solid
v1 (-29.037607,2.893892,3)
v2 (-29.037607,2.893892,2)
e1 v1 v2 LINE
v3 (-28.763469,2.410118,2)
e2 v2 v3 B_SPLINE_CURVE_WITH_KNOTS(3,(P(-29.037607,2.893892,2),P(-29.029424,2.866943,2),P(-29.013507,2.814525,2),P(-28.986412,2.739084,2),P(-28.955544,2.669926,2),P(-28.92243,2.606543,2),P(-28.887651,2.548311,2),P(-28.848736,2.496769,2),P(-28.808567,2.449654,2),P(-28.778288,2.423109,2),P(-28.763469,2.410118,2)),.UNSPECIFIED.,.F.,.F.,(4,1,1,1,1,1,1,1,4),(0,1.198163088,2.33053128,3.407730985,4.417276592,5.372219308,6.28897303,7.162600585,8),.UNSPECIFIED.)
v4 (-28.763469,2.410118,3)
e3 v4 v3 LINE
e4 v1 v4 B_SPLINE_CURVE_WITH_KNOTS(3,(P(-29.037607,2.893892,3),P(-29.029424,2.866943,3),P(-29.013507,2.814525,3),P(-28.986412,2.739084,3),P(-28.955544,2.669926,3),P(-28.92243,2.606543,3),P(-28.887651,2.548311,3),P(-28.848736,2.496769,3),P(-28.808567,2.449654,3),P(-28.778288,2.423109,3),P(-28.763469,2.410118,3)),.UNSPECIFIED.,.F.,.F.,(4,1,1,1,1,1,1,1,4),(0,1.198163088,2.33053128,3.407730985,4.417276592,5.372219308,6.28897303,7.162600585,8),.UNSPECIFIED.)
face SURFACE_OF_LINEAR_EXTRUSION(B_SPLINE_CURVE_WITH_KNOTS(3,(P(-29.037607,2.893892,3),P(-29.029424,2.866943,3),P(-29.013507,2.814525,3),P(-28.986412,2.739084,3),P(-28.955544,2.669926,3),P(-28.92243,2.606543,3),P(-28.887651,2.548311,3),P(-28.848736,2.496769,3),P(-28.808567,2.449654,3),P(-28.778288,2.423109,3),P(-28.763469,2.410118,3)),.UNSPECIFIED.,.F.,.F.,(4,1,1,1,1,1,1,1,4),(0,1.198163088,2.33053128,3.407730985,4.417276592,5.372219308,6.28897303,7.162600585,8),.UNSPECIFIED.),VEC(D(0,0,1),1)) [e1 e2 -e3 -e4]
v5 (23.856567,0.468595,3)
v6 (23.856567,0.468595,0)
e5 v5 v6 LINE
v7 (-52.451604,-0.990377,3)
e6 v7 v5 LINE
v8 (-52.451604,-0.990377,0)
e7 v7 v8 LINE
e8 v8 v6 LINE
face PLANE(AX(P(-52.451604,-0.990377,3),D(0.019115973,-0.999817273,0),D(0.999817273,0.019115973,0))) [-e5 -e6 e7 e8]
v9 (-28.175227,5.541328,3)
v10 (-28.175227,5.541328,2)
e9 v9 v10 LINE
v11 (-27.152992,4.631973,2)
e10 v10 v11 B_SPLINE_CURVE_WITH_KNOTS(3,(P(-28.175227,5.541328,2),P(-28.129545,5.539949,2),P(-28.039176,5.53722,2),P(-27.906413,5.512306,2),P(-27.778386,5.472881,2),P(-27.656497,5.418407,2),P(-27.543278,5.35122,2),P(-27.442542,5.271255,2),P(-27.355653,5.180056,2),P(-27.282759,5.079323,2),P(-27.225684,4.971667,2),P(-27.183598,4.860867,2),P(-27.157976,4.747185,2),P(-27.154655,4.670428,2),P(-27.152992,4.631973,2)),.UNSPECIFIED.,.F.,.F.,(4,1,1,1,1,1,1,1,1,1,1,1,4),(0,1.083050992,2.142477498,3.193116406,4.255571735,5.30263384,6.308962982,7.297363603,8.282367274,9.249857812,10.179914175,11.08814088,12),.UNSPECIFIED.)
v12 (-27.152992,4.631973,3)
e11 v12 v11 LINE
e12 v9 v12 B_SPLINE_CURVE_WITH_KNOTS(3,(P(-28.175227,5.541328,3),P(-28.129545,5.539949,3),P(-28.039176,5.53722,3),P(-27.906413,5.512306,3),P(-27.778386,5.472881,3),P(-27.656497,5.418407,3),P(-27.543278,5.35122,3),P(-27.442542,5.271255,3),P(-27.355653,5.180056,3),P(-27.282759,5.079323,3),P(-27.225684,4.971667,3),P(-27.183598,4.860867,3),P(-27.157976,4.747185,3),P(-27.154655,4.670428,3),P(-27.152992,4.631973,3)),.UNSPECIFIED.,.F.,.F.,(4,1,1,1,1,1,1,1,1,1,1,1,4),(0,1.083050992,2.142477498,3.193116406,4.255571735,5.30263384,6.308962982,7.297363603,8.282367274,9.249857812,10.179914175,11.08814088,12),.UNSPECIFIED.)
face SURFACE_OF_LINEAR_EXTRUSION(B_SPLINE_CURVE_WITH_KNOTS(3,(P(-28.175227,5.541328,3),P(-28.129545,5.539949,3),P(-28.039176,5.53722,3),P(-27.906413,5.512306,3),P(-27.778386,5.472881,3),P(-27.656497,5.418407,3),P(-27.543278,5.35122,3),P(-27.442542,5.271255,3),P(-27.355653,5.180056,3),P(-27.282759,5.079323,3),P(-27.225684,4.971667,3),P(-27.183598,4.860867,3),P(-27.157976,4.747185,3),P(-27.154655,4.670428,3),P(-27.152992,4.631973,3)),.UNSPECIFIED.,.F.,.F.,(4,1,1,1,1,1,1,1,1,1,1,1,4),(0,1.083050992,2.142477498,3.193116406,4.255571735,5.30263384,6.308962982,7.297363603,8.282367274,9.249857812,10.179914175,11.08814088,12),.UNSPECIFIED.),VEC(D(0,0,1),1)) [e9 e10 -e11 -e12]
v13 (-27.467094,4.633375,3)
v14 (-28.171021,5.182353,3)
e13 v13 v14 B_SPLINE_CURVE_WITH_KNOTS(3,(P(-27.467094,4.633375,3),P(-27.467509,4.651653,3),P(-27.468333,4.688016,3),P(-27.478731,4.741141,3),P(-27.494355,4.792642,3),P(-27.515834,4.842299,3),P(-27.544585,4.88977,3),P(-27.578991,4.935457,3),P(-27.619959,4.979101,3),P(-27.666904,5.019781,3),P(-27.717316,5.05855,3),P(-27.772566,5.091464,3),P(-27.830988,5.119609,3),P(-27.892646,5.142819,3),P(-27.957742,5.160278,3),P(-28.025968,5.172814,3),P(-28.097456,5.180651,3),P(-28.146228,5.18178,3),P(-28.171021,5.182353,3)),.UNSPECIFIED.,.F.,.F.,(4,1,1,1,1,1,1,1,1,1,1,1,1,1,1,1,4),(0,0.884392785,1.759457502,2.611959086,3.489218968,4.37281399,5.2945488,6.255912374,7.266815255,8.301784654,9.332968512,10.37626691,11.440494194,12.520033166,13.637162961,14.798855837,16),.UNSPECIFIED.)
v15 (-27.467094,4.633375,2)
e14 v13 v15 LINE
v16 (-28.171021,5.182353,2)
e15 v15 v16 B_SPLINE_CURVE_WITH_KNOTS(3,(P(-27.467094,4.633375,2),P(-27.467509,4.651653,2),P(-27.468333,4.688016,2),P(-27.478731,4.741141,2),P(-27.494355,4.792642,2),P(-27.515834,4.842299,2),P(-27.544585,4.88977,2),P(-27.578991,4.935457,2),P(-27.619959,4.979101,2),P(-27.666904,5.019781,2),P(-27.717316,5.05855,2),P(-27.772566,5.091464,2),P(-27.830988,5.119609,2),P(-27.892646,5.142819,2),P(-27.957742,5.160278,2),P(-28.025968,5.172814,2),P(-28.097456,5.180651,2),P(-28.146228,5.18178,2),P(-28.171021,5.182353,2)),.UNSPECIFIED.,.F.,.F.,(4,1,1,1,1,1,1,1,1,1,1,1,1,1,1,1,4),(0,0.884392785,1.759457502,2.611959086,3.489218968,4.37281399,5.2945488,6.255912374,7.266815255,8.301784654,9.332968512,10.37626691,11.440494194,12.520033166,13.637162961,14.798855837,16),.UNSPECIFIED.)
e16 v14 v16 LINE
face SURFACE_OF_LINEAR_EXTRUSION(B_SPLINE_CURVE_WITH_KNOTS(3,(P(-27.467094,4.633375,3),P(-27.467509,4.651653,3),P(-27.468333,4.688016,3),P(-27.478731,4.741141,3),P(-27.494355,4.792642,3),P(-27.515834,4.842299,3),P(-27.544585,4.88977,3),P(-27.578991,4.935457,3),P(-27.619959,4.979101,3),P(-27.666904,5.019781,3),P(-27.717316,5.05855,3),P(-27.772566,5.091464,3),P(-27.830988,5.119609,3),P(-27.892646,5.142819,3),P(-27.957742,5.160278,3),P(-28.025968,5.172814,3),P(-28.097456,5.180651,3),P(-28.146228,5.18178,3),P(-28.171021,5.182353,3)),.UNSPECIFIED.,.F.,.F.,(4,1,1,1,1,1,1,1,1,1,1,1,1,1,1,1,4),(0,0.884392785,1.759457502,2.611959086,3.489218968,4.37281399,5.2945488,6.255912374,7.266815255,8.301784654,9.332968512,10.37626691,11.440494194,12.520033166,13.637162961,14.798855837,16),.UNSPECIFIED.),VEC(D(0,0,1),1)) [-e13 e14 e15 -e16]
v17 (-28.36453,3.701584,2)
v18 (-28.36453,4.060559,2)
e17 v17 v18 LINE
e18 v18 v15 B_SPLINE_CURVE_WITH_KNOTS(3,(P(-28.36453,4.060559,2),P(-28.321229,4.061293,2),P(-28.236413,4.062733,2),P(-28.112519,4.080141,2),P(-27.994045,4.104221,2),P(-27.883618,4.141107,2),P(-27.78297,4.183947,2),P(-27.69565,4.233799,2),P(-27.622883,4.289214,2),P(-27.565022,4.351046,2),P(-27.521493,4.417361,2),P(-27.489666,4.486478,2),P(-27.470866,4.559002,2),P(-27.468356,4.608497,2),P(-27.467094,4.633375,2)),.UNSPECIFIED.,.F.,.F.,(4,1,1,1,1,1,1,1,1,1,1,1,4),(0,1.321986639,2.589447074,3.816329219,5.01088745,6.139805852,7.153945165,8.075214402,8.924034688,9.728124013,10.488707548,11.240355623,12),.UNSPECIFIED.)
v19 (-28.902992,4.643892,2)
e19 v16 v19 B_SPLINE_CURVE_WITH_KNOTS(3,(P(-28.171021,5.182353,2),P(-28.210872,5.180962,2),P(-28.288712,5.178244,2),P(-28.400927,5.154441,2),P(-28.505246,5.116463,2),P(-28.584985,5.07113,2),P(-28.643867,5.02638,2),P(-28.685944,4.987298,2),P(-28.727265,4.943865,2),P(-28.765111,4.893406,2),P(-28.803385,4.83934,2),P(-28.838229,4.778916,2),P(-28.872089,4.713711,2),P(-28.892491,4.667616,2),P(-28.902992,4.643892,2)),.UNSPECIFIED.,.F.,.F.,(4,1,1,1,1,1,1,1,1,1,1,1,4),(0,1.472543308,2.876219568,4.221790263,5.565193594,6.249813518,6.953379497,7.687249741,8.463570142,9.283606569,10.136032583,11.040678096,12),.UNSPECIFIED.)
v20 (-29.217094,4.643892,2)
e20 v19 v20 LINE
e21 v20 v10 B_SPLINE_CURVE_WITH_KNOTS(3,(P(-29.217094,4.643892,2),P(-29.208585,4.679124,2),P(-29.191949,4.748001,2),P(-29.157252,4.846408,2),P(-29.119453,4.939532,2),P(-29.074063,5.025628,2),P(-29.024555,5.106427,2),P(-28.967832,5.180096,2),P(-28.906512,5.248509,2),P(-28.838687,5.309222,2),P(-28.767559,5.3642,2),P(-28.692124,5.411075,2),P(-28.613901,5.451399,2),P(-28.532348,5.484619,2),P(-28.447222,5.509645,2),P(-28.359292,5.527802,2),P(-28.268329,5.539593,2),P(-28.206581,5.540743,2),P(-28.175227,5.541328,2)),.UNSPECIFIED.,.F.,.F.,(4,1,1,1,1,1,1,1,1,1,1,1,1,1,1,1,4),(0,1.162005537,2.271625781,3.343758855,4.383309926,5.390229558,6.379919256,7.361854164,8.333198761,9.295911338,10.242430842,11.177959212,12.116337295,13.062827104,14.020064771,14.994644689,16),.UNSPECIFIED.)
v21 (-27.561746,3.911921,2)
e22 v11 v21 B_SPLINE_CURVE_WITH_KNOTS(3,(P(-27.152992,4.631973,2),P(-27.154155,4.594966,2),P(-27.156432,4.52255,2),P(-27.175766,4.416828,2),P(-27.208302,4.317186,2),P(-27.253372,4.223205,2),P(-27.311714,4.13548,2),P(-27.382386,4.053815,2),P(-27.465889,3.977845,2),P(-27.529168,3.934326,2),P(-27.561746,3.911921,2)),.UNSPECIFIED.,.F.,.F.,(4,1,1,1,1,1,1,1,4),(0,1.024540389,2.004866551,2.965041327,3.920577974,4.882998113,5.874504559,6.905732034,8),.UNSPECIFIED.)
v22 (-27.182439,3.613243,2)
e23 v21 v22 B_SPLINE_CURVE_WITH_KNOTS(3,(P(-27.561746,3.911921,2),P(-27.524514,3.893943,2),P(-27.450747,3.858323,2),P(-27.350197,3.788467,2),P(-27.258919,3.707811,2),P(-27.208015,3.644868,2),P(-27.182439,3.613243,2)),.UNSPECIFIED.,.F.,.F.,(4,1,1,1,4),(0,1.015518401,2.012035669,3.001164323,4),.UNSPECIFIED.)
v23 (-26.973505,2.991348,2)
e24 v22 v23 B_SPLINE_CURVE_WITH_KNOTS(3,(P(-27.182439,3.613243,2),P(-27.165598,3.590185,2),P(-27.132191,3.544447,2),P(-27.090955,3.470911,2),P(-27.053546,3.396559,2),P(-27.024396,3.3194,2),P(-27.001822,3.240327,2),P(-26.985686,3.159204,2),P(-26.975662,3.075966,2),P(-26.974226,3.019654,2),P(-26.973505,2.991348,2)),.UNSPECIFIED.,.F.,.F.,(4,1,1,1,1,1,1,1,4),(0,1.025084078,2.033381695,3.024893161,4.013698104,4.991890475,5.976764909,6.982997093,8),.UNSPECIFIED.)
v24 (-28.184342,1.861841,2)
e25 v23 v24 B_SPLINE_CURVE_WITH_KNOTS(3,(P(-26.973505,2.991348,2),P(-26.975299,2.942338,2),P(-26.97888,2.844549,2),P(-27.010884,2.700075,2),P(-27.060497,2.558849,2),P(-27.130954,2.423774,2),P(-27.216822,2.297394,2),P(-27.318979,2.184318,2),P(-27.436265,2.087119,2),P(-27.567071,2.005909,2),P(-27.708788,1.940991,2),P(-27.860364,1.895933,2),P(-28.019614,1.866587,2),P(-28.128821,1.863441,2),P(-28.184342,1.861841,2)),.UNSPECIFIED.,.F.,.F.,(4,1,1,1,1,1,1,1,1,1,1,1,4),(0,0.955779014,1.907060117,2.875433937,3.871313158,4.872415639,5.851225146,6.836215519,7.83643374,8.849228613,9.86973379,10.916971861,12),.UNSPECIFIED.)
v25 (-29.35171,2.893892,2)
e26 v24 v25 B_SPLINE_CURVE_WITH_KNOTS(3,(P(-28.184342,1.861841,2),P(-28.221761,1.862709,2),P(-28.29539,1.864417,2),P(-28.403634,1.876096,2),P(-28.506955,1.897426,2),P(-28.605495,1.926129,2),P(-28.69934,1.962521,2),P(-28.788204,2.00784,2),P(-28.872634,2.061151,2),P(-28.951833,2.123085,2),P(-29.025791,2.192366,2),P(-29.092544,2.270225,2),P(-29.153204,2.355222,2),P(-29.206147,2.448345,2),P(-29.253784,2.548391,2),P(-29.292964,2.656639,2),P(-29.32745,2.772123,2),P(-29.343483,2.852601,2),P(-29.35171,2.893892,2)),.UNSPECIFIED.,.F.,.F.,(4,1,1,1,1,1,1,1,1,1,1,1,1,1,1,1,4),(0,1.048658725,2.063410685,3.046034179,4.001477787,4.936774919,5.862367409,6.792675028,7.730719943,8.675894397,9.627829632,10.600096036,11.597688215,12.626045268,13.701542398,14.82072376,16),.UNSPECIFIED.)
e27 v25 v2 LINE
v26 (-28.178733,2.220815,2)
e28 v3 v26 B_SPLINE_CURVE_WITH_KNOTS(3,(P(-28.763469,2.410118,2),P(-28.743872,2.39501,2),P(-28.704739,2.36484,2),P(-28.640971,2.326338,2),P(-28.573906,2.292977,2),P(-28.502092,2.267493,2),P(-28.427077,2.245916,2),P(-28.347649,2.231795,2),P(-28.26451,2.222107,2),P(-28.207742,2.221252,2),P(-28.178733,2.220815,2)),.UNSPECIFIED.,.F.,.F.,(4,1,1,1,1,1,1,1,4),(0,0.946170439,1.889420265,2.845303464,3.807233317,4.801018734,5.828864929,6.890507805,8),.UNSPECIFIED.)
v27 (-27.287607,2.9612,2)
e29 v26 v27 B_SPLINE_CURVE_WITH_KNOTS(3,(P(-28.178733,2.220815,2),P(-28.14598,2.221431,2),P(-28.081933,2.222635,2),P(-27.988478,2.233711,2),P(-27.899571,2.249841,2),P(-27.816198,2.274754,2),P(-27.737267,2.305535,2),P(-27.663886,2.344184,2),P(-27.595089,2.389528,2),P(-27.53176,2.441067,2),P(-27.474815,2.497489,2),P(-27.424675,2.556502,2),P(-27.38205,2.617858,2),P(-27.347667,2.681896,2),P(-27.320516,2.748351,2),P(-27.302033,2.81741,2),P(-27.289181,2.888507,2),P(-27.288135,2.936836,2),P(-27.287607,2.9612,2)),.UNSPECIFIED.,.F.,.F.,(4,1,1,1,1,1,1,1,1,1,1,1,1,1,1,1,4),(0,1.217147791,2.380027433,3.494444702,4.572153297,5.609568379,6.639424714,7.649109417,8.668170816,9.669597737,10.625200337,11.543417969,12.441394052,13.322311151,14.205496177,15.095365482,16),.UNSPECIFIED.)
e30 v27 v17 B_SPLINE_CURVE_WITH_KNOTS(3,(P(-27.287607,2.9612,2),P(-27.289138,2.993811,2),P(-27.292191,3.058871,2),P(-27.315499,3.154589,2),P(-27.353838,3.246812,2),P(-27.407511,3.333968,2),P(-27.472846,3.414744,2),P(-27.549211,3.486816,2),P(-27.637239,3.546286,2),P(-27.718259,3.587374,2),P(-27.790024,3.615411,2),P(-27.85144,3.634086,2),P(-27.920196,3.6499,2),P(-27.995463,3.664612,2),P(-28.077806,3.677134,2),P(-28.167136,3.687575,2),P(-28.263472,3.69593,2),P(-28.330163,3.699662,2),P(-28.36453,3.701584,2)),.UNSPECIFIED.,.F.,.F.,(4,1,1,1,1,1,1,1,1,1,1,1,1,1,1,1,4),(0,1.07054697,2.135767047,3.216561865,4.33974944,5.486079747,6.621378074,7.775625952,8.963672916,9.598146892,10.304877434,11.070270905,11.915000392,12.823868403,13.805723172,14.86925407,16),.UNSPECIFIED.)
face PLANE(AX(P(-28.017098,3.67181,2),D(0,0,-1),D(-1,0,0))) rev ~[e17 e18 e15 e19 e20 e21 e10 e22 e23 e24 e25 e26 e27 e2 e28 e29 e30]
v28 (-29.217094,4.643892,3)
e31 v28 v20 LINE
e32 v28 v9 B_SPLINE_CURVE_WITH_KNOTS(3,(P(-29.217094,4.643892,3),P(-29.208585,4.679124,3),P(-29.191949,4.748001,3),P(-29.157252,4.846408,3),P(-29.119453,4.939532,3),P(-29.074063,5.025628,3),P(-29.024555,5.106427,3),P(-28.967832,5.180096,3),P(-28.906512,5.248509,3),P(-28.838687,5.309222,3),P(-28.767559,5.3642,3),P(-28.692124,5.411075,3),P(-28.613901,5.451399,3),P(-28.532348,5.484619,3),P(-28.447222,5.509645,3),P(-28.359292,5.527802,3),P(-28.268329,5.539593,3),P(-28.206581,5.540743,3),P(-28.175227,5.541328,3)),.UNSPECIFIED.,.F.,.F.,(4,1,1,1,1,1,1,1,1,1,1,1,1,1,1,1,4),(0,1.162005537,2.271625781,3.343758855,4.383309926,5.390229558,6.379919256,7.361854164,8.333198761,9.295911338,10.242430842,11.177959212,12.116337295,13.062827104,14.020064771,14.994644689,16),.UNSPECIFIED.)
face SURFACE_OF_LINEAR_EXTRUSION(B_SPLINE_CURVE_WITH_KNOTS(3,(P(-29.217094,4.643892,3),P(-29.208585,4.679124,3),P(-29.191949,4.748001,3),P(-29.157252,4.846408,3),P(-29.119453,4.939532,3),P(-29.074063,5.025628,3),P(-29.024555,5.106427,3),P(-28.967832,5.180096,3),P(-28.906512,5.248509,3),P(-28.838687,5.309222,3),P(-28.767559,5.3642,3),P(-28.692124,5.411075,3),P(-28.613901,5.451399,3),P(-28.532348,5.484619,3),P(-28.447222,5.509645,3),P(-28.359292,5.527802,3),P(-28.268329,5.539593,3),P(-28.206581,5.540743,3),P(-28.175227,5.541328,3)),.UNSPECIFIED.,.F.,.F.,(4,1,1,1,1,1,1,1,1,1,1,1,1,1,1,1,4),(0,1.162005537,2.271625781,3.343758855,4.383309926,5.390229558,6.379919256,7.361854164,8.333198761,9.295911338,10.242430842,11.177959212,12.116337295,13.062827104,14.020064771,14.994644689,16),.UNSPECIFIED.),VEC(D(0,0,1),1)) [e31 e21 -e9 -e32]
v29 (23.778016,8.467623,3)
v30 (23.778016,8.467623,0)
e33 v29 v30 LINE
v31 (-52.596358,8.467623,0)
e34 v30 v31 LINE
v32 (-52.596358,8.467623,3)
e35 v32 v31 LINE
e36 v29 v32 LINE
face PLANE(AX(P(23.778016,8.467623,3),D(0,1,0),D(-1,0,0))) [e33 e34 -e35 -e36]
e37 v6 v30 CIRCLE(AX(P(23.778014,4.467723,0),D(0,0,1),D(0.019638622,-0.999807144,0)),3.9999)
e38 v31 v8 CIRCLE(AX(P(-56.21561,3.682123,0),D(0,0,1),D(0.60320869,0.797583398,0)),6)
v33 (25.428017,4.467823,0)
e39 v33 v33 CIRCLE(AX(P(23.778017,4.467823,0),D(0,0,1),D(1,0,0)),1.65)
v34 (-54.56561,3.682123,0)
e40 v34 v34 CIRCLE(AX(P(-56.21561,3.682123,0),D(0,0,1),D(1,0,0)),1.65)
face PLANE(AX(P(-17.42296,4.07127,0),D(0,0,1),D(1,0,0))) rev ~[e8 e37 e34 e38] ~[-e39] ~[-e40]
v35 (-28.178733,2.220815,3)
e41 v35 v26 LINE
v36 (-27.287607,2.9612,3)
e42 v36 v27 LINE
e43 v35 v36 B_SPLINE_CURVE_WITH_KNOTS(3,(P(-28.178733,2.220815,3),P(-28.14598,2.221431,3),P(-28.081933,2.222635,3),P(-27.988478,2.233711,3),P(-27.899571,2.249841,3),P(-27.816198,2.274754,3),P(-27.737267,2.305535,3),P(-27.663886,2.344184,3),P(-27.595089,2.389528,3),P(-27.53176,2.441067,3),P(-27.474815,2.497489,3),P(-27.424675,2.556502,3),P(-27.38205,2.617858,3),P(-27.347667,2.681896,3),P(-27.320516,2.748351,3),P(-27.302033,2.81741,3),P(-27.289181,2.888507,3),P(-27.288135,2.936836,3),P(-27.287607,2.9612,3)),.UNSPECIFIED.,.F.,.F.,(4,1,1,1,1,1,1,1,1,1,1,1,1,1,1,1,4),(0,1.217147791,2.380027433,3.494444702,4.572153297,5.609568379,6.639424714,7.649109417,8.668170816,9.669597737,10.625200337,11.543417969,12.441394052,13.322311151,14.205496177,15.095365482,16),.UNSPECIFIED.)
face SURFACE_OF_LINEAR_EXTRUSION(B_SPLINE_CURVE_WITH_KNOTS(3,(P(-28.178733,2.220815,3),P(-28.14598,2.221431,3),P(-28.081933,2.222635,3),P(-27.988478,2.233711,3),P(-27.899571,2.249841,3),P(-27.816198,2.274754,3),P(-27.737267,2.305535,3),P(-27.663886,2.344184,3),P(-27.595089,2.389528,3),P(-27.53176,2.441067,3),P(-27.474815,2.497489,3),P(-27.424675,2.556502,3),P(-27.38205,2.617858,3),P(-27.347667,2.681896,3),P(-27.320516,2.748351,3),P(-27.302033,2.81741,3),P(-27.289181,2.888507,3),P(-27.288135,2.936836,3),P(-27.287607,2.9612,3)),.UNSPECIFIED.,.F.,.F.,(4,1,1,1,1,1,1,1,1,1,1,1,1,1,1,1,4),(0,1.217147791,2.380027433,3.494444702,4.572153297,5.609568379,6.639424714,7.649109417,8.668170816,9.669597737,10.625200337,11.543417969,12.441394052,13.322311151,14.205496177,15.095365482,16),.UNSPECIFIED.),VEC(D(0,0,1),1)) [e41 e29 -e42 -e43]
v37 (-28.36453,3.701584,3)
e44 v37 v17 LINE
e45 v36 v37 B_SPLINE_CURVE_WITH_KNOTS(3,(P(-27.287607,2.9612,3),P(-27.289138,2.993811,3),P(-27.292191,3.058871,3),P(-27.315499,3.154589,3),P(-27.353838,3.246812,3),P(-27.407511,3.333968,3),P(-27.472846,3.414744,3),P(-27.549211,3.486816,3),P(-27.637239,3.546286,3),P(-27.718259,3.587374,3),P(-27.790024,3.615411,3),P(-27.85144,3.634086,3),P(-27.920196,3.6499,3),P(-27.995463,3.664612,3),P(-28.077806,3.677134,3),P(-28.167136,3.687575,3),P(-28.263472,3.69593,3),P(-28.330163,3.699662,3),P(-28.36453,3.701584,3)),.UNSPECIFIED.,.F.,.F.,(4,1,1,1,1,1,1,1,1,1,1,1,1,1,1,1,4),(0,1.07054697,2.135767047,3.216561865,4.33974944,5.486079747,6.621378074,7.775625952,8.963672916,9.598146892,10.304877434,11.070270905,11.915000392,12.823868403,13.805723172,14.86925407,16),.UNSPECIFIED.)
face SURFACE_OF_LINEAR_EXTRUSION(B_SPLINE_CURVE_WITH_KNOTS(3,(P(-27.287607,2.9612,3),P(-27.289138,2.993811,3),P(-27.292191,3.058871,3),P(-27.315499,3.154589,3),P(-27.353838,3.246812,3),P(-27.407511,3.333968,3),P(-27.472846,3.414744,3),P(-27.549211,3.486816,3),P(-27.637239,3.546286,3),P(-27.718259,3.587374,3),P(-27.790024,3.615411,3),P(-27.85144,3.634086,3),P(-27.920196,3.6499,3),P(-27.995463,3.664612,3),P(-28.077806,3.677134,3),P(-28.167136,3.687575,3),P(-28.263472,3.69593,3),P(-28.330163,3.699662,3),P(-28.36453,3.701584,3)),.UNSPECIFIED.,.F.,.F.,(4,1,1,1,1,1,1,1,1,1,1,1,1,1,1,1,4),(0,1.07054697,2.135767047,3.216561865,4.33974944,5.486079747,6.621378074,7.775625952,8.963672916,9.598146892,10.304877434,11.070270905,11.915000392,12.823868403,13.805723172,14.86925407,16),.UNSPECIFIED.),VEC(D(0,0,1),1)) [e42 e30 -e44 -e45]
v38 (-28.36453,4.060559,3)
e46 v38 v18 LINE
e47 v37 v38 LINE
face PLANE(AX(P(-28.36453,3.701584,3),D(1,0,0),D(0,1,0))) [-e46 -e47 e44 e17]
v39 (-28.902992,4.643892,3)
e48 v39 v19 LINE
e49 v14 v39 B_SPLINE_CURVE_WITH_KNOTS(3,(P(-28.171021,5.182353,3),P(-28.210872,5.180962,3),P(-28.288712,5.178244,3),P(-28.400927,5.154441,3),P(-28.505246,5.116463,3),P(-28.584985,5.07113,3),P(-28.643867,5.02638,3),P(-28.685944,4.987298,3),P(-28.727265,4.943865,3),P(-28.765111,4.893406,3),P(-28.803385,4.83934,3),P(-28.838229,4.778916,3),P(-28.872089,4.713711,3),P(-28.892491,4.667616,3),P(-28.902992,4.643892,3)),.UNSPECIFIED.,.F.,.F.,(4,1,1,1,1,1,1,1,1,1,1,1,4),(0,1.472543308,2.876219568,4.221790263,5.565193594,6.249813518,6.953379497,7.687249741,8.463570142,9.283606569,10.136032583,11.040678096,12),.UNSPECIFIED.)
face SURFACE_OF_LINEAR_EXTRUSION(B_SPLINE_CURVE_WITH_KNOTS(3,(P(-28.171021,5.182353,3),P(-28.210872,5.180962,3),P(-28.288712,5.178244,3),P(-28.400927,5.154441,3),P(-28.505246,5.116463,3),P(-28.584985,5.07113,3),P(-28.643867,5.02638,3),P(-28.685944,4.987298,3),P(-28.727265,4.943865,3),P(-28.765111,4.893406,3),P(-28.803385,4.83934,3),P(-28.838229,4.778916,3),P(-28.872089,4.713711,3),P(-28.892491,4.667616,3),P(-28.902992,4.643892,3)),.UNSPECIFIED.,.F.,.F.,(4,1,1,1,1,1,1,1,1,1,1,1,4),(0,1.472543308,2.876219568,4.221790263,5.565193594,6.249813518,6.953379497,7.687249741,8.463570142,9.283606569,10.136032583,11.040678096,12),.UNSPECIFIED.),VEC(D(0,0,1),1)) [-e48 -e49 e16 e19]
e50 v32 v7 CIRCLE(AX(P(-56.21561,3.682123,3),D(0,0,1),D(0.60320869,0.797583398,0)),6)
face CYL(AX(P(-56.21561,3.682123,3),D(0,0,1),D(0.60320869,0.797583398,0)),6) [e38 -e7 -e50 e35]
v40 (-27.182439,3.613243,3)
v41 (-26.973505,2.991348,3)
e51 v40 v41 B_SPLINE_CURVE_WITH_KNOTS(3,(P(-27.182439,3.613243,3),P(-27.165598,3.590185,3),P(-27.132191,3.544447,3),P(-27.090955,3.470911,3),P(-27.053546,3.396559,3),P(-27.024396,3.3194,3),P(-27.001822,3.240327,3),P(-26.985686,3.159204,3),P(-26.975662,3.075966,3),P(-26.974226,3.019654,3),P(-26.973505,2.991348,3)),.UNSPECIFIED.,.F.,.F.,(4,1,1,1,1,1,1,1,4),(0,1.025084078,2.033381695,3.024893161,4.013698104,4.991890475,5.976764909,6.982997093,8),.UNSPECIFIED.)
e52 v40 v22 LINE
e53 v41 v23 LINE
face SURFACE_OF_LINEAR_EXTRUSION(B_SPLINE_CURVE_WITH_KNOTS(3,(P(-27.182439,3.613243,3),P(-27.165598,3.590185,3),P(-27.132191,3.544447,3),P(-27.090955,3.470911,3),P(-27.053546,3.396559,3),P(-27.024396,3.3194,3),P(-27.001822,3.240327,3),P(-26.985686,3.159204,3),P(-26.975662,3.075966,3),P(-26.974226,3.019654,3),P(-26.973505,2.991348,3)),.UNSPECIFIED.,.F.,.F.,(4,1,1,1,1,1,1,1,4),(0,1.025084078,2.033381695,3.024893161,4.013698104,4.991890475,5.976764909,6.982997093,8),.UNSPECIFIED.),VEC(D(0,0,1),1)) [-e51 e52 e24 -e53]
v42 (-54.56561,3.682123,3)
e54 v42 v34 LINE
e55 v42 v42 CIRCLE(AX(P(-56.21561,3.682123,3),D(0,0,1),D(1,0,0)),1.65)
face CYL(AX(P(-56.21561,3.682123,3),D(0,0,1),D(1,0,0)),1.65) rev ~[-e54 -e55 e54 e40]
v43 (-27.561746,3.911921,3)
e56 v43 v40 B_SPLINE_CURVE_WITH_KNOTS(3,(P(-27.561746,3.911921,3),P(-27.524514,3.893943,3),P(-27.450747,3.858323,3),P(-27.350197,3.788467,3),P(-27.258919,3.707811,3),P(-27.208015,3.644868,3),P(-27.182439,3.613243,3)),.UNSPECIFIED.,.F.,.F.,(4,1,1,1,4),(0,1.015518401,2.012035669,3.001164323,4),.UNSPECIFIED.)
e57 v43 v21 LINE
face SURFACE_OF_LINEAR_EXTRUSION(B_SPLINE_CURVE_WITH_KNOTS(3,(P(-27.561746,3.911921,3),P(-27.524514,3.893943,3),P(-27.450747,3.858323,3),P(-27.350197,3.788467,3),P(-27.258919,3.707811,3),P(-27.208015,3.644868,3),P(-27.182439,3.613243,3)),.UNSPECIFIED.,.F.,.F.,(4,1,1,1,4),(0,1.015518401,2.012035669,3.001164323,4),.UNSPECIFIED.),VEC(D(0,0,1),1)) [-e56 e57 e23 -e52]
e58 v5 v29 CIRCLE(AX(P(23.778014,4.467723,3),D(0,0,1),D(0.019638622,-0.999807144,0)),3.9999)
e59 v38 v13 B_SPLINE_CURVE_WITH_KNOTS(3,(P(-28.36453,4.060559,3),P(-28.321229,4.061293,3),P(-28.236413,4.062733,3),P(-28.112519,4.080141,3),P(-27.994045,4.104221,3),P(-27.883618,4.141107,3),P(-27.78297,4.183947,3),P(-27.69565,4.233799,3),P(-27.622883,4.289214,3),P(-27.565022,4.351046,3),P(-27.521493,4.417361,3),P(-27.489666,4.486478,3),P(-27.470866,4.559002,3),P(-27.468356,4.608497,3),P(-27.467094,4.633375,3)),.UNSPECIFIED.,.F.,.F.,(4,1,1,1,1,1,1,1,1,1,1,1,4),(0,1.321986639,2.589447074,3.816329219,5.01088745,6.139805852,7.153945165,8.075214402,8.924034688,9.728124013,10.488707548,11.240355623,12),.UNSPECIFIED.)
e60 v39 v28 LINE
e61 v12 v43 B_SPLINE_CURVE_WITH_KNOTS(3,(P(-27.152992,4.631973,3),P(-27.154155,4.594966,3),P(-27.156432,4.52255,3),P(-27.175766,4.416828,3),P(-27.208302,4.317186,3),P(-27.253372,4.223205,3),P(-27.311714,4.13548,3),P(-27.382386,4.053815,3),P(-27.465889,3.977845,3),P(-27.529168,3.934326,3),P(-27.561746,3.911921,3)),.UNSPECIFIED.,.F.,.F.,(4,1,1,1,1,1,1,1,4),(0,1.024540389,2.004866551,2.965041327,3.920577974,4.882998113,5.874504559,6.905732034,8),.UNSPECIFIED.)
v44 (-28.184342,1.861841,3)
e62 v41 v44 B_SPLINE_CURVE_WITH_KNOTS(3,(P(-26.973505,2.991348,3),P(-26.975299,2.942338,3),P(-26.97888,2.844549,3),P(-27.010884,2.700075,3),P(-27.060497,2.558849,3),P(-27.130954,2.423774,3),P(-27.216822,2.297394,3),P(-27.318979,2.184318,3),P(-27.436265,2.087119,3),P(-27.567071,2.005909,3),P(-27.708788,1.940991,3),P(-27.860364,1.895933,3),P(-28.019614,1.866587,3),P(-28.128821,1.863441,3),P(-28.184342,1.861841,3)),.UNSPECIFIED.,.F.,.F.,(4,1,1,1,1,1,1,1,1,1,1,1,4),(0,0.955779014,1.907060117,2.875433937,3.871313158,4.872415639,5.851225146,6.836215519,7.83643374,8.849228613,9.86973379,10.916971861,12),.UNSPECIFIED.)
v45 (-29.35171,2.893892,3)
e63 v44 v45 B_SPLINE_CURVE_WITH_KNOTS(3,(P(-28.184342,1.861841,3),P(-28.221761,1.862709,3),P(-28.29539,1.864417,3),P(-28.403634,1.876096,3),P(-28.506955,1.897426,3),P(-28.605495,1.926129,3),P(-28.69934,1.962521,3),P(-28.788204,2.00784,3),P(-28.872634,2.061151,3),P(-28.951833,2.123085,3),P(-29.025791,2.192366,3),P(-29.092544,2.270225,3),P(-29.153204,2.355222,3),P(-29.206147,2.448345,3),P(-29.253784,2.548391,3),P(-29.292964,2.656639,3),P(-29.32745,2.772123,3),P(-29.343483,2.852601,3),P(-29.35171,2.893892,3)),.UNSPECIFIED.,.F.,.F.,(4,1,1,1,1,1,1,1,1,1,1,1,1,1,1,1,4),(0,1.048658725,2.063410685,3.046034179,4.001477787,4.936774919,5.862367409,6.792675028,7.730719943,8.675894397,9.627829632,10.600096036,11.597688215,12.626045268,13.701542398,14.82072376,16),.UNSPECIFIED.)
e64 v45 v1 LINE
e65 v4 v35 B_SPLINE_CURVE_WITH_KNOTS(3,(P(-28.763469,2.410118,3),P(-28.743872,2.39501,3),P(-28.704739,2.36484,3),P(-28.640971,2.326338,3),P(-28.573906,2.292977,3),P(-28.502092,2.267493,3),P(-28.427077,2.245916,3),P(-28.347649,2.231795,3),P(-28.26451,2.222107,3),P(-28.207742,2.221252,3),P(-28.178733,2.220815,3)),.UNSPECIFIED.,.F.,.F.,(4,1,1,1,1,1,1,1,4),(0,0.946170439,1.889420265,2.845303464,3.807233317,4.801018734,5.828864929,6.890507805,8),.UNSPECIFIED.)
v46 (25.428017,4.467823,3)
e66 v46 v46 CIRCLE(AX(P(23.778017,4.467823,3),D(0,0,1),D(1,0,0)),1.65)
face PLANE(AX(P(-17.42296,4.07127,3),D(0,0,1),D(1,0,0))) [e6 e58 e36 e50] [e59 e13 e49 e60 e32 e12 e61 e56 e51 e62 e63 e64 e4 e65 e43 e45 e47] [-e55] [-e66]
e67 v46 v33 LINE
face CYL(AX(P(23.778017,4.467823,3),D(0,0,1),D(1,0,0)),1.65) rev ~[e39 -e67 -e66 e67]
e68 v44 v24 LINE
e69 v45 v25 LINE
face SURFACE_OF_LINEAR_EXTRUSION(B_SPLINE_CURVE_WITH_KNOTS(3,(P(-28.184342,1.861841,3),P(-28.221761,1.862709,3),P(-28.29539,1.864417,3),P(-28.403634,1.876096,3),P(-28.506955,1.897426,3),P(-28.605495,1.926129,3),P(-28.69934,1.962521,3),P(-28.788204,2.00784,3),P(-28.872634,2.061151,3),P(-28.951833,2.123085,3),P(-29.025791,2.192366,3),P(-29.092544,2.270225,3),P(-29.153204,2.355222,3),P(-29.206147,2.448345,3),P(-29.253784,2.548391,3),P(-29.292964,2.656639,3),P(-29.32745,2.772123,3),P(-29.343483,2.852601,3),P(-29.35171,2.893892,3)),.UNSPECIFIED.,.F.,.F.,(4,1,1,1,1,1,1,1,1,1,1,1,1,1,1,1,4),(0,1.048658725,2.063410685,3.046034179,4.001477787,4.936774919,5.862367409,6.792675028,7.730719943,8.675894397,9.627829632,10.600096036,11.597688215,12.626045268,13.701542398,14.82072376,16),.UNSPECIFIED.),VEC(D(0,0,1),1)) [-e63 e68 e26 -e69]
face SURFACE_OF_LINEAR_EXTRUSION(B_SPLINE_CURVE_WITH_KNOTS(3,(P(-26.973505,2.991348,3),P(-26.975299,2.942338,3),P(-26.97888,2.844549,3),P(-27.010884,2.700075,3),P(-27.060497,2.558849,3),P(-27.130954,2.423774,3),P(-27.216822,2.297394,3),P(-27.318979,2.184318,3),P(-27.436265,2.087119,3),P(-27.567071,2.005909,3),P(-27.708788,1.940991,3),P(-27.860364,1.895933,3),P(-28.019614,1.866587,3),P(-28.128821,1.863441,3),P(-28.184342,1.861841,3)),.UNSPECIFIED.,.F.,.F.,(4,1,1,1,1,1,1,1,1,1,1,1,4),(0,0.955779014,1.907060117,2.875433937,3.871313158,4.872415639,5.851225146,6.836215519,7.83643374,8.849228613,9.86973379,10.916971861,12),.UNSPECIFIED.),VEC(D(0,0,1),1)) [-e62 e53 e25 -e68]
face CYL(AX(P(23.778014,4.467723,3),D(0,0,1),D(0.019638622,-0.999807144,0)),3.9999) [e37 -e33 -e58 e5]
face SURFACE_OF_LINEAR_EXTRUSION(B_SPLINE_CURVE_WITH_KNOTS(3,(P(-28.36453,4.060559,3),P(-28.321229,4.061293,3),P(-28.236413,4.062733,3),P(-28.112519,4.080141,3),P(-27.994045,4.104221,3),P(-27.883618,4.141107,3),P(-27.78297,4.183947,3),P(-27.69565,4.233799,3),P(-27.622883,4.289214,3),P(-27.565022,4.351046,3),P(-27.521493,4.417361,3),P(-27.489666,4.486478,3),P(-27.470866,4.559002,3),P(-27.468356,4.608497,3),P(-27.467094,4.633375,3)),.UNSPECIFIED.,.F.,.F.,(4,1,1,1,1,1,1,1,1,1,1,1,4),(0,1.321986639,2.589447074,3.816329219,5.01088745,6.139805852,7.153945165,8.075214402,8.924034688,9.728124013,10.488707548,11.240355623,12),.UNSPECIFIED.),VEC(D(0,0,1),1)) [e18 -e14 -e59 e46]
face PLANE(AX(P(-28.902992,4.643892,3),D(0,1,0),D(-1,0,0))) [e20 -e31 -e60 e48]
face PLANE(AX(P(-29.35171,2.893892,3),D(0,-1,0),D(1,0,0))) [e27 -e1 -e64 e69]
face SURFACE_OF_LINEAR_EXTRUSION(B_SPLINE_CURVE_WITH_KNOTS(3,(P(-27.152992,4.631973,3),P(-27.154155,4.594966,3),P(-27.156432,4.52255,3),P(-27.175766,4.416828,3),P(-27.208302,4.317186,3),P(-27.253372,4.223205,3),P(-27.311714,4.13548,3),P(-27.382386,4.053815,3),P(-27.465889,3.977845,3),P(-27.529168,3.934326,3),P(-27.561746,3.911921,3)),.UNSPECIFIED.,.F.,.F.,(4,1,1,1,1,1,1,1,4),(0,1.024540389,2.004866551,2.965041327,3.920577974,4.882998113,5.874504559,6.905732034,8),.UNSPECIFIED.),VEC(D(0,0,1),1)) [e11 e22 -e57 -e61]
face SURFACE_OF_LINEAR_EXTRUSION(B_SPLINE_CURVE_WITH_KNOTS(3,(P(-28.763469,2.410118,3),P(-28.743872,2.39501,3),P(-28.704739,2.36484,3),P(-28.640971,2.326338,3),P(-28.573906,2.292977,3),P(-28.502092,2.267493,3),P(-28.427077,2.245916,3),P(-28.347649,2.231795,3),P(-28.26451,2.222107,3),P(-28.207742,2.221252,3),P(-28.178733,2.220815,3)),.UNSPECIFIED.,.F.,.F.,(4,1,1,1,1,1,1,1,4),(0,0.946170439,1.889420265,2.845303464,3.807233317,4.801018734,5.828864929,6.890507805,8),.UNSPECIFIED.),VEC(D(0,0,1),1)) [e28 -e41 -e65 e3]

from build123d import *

# Parameters (mm, degrees)
EXTRUDE_1_DEPTH         = 3
SKETCH_2_R              = 1.35
CUT_EXTRUDE_1_DEPTH     = 2.444444444
SKETCH_3_R              = 1.35
CUT_EXTRUDE_2_DEPTH     = 0.555555556
HOLE_WIZARD_2_7_2_7_1_D = 2.7
SKETCH_6_R              = 1.65
CUT_EXTRUDE_3_DEPTH     = 64.035907885
CUT_EXTRUDE_4_DEPTH     = 1


with BuildPart() as part:
    # 草图1 → 凸台-拉伸1 (new body)
    with BuildSketch(Plane.XY.offset(3)):
        with BuildLine():
            Line((23.778016459, 8.467622986), (-52.596358319, 8.467622986))
            ThreePointArc((-52.596358319, 8.467622986), (-62.214907854, 3.590303351), (-52.451603626, -0.990377005))
            Line((-52.451603626, -0.990377005), (23.856567017, 0.468594516))
            ThreePointArc((23.856567017, 0.468594516), (27.777721585, 4.50700022), (23.778016459, 8.467622986))
        make_face()
    extrude(amount=-EXTRUDE_1_DEPTH)

    # 草图2 → 切除-拉伸1 (cut)
    with BuildSketch(Plane.XY.offset(3)):
        with Locations(Location((23.77801746, 4.467622995, 0), (0, 0, 180))):
            Circle(SKETCH_2_R)
    extrude(amount=-CUT_EXTRUDE_1_DEPTH, mode=Mode.SUBTRACT)

    # 草图3 → 切除-拉伸2 (cut)
    with BuildSketch(Plane(origin=(0, 0, 0), x_dir=(-1, 0, 0), z_dir=(0, 0, -1))):
        with Locations(Location((-23.778017455, 4.467823177, 0), (0, 0, 359.991504025))):
            Circle(SKETCH_3_R)
    extrude(amount=-CUT_EXTRUDE_2_DEPTH, mode=Mode.SUBTRACT)

    # Ø2.7 (2.7) 直径孔1 (through all)
    with Locations(Plane.XY.offset(3)):
        with Locations((-56.215609969, 3.682122995)):
            Hole(HOLE_WIZARD_2_7_2_7_1_D / 2)

    # 草图6 → 切除-拉伸3 (cut, through all)
    with BuildSketch(Plane.XY.offset(3)):
        with Locations((-56.215609969, 3.682122995)):
            Circle(SKETCH_6_R)
        with Locations((23.778017455, 4.467823177)):
            Circle(SKETCH_6_R)
    extrude(amount=-CUT_EXTRUDE_3_DEPTH, mode=Mode.SUBTRACT)

    # 草图7 → 切除-拉伸4 (cut)
    with BuildSketch(Plane.XY.offset(3)):
        with BuildLine():
            Line((-28.902991884, 4.643891928), (-29.217094448, 4.643891928))
            add(Edge.make_bspline(
                [(-29.217094448, 4.643891928), (-29.208584898, 4.679124412), (-29.191949422, 4.748001036), (-29.157251849, 4.846408297), (-29.119452594, 4.939531818), (-29.074063489, 5.025627892), (-29.024554735, 5.106426795), (-28.967832013, 5.180095919), (-28.906512291, 5.248508885), (-28.838687341, 5.309222122), (-28.76755868, 5.364199852), (-28.69212406, 5.411074909), (-28.613901166, 5.451399062), (-28.532348033, 5.484619294), (-28.447221862, 5.509644817), (-28.359292238, 5.527801623), (-28.268328738, 5.539592737), (-28.206581148, 5.5407435), (-28.175227461, 5.541327825)],
                knots=[0, 0, 0, 0, 1.162005537, 2.271625781, 3.343758855, 4.383309926, 5.390229558, 6.379919256, 7.361854164, 8.333198761, 9.295911338, 10.242430842, 11.177959212, 12.116337295, 13.062827104, 14.020064771, 14.994644689, 16, 16, 16, 16], degree=3))
            add(Edge.make_bspline(
                [(-28.175227461, 5.541327825), (-28.129544719, 5.539948595), (-28.039175708, 5.53722022), (-27.906412661, 5.512305783), (-27.778385842, 5.472880651), (-27.656496594, 5.418406924), (-27.543278162, 5.35121961), (-27.442541975, 5.271254874), (-27.355653464, 5.180055572), (-27.282759087, 5.079323008), (-27.225684088, 4.971667498), (-27.183597714, 4.860867341), (-27.157976033, 4.74718537), (-27.154655476, 4.670428091), (-27.152991884, 4.631972857)],
                knots=[0, 0, 0, 0, 1.083050992, 2.142477498, 3.193116406, 4.255571735, 5.30263384, 6.308962982, 7.297363603, 8.282367274, 9.249857812, 10.179914175, 11.08814088, 12, 12, 12, 12], degree=3))
            add(Edge.make_bspline(
                [(-27.152991884, 4.631972857), (-27.154155475, 4.594966063), (-27.156432443, 4.522549508), (-27.175766148, 4.416828011), (-27.208302411, 4.317186411), (-27.253372174, 4.223205249), (-27.311713724, 4.135480409), (-27.382386421, 4.053814518), (-27.465889082, 3.97784536), (-27.52916802, 3.934325887), (-27.561745891, 3.911920774)],
                knots=[0, 0, 0, 0, 1.024540389, 2.004866551, 2.965041327, 3.920577974, 4.882998113, 5.874504559, 6.905732034, 8, 8, 8, 8], degree=3))
            add(Edge.make_bspline(
                [(-27.561745891, 3.911920774), (-27.524514136, 3.893942602), (-27.450747262, 3.858322645), (-27.350196732, 3.788466887), (-27.258918857, 3.70781054), (-27.208015138, 3.644867887), (-27.182439, 3.613242889)],
                knots=[0, 0, 0, 0, 1.015518401, 2.012035669, 3.001164323, 4, 4, 4, 4], degree=3))
            add(Edge.make_bspline(
                [(-27.182439, 3.613242889), (-27.165597657, 3.590185138), (-27.132190761, 3.544447221), (-27.090955228, 3.470910795), (-27.053546113, 3.396559306), (-27.024395894, 3.3193999), (-27.001822027, 3.240326886), (-26.985685995, 3.15920449), (-26.975661854, 3.075966468), (-26.974226302, 3.019653988), (-26.973504705, 2.991347857)],
                knots=[0, 0, 0, 0, 1.025084078, 2.033381695, 3.024893161, 4.013698104, 4.991890475, 5.976764909, 6.982997093, 8, 8, 8, 8], degree=3))
            add(Edge.make_bspline(
                [(-26.973504705, 2.991347857), (-26.975299218, 2.942338136), (-26.9788798, 2.844549334), (-27.010883875, 2.700074613), (-27.060497115, 2.55884911), (-27.130954051, 2.423774271), (-27.21682156, 2.29739389), (-27.318978884, 2.184317581), (-27.436265293, 2.087118977), (-27.567070942, 2.005908749), (-27.70878807, 1.940990827), (-27.860363662, 1.895933384), (-28.019613716, 1.866587384), (-28.128821014, 1.863440515), (-28.184342045, 1.861840646)],
                knots=[0, 0, 0, 0, 0.955779014, 1.907060117, 2.875433937, 3.871313158, 4.872415639, 5.851225146, 6.836215519, 7.83643374, 8.849228613, 9.86973379, 10.916971861, 12, 12, 12, 12], degree=3))
            add(Edge.make_bspline(
                [(-28.184342045, 1.861840646), (-28.221761345, 1.862708859), (-28.29539005, 1.864417213), (-28.403633548, 1.876095814), (-28.506955248, 1.89742582), (-28.605494846, 1.926129125), (-28.699339882, 1.962520867), (-28.788203987, 2.007839565), (-28.872633881, 2.061151067), (-28.951832832, 2.123084655), (-29.0257914, 2.192365995), (-29.092544124, 2.270225005), (-29.153203917, 2.355222409), (-29.206146555, 2.448345465), (-29.253783508, 2.548390722), (-29.292964465, 2.656639221), (-29.327450033, 2.772123243), (-29.343483498, 2.852600983), (-29.351709833, 2.893891928)],
                knots=[0, 0, 0, 0, 1.048658725, 2.063410685, 3.046034179, 4.001477787, 4.936774919, 5.862367409, 6.792675028, 7.730719943, 8.675894397, 9.627829632, 10.600096036, 11.597688215, 12.626045268, 13.701542398, 14.82072376, 16, 16, 16, 16], degree=3))
            Line((-29.351709833, 2.893891928), (-29.037607269, 2.893891928))
            add(Edge.make_bspline(
                [(-29.037607269, 2.893891928), (-29.029423978, 2.866942915), (-29.013506765, 2.814524743), (-28.986412467, 2.739084437), (-28.955544195, 2.669926384), (-28.922429636, 2.606543262), (-28.88765119, 2.54831086), (-28.848736265, 2.496768991), (-28.80856712, 2.449653788), (-28.778287766, 2.423109176), (-28.763468647, 2.410117889)],
                knots=[0, 0, 0, 0, 1.198163088, 2.33053128, 3.407730985, 4.417276592, 5.372219308, 6.28897303, 7.162600585, 8, 8, 8, 8], degree=3))
            add(Edge.make_bspline(
                [(-28.763468647, 2.410117889), (-28.743872071, 2.395009556), (-28.704739408, 2.364839524), (-28.640971177, 2.326337895), (-28.573906291, 2.29297687), (-28.502091616, 2.267493174), (-28.427076846, 2.245915513), (-28.347649481, 2.231794994), (-28.264510264, 2.222106823), (-28.2077425, 2.221251891), (-28.17873307, 2.220815005)],
                knots=[0, 0, 0, 0, 0.946170439, 1.889420265, 2.845303464, 3.807233317, 4.801018734, 5.828864929, 6.890507805, 8, 8, 8, 8], degree=3))
            add(Edge.make_bspline(
                [(-28.17873307, 2.220815005), (-28.145979568, 2.22143091), (-28.081932921, 2.22263526), (-27.988478061, 2.233710966), (-27.899570614, 2.24984138), (-27.816197688, 2.274754363), (-27.737267181, 2.305535214), (-27.663885531, 2.34418362), (-27.595089425, 2.389528341), (-27.531760019, 2.4410675), (-27.474814512, 2.497488995), (-27.424674999, 2.556502066), (-27.382050337, 2.617857896), (-27.347666759, 2.681896016), (-27.320516209, 2.748351245), (-27.302033008, 2.817410075), (-27.289181493, 2.888507341), (-27.288134881, 2.93683631), (-27.287607269, 2.96119962)],
                knots=[0, 0, 0, 0, 1.217147791, 2.380027433, 3.494444702, 4.572153297, 5.609568379, 6.639424714, 7.649109417, 8.668170816, 9.669597737, 10.625200337, 11.543417969, 12.441394052, 13.322311151, 14.205496177, 15.095365482, 16, 16, 16, 16], degree=3))
            add(Edge.make_bspline(
                [(-27.287607269, 2.96119962), (-27.289137571, 2.993810959), (-27.292190559, 3.058871367), (-27.315499138, 3.154588942), (-27.353838003, 3.246812354), (-27.407510514, 3.333968144), (-27.472846243, 3.414744046), (-27.549211149, 3.486815528), (-27.637239378, 3.546285619), (-27.718259247, 3.587374276), (-27.790024403, 3.615411351), (-27.851439788, 3.634086315), (-27.920196391, 3.649899971), (-27.99546274, 3.664612242), (-28.077805957, 3.677133591), (-28.167136394, 3.687575406), (-28.263472156, 3.695930447), (-28.330163322, 3.699661543), (-28.364530346, 3.701584236)],
                knots=[0, 0, 0, 0, 1.07054697, 2.135767047, 3.216561865, 4.33974944, 5.486079747, 6.621378074, 7.775625952, 8.963672916, 9.598146892, 10.304877434, 11.070270905, 11.915000392, 12.823868403, 13.805723172, 14.86925407, 16, 16, 16, 16], degree=3))
            Line((-28.364530346, 3.701584236), (-28.364530346, 4.060558595))
            add(Edge.make_bspline(
                [(-28.364530346, 4.060558595), (-28.32122918, 4.061293398), (-28.236412834, 4.062732698), (-28.112518529, 4.080140709), (-27.994045217, 4.104221337), (-27.883618475, 4.141106529), (-27.782969761, 4.183946826), (-27.695650159, 4.233799035), (-27.622883012, 4.289213785), (-27.565021941, 4.351046394), (-27.521492712, 4.417361441), (-27.489665914, 4.486478099), (-27.470865588, 4.55900216), (-27.468355921, 4.608496828), (-27.467094448, 4.633375101)],
                knots=[0, 0, 0, 0, 1.321986639, 2.589447074, 3.816329219, 5.01088745, 6.139805852, 7.153945165, 8.075214402, 8.924034688, 9.728124013, 10.488707548, 11.240355623, 12, 12, 12, 12], degree=3))
            add(Edge.make_bspline(
                [(-27.467094448, 4.633375101), (-27.467508859, 4.651652846), (-27.46833331, 4.688015553), (-27.478730588, 4.741140622), (-27.494354629, 4.792641568), (-27.515834358, 4.842299378), (-27.544584557, 4.889769652), (-27.578990544, 4.935457101), (-27.619958644, 4.97910088), (-27.666904091, 5.019781199), (-27.717315896, 5.058550437), (-27.772565671, 5.091464074), (-27.830987546, 5.119609136), (-27.892646201, 5.142818638), (-27.957741731, 5.160277926), (-28.025968289, 5.172813767), (-28.097455972, 5.180651422), (-28.146227704, 5.181779838), (-28.171020731, 5.182353466)],
                knots=[0, 0, 0, 0, 0.884392785, 1.759457502, 2.611959086, 3.489218968, 4.37281399, 5.2945488, 6.255912374, 7.266815255, 8.301784654, 9.332968512, 10.37626691, 11.440494194, 12.520033166, 13.637162961, 14.798855837, 16, 16, 16, 16], degree=3))
            add(Edge.make_bspline(
                [(-28.171020731, 5.182353466), (-28.210872399, 5.180962104), (-28.288711975, 5.178244451), (-28.400926892, 5.154441437), (-28.505246226, 5.116463354), (-28.584984892, 5.071130334), (-28.643867467, 5.026379901), (-28.685944405, 4.987297514), (-28.727264915, 4.94386469), (-28.765110592, 4.893406315), (-28.803384569, 4.839339525), (-28.83822913, 4.778915843), (-28.872088822, 4.713711449), (-28.892491372, 4.667615815), (-28.902991884, 4.643891928)],
                knots=[0, 0, 0, 0, 1.472543308, 2.876219568, 4.221790263, 5.565193594, 6.249813518, 6.953379497, 7.687249741, 8.463570142, 9.283606569, 10.136032583, 11.040678096, 12, 12, 12, 12], degree=3))
        make_face()
    extrude(amount=-CUT_EXTRUDE_4_DEPTH, mode=Mode.SUBTRACT)


solid = part.part
